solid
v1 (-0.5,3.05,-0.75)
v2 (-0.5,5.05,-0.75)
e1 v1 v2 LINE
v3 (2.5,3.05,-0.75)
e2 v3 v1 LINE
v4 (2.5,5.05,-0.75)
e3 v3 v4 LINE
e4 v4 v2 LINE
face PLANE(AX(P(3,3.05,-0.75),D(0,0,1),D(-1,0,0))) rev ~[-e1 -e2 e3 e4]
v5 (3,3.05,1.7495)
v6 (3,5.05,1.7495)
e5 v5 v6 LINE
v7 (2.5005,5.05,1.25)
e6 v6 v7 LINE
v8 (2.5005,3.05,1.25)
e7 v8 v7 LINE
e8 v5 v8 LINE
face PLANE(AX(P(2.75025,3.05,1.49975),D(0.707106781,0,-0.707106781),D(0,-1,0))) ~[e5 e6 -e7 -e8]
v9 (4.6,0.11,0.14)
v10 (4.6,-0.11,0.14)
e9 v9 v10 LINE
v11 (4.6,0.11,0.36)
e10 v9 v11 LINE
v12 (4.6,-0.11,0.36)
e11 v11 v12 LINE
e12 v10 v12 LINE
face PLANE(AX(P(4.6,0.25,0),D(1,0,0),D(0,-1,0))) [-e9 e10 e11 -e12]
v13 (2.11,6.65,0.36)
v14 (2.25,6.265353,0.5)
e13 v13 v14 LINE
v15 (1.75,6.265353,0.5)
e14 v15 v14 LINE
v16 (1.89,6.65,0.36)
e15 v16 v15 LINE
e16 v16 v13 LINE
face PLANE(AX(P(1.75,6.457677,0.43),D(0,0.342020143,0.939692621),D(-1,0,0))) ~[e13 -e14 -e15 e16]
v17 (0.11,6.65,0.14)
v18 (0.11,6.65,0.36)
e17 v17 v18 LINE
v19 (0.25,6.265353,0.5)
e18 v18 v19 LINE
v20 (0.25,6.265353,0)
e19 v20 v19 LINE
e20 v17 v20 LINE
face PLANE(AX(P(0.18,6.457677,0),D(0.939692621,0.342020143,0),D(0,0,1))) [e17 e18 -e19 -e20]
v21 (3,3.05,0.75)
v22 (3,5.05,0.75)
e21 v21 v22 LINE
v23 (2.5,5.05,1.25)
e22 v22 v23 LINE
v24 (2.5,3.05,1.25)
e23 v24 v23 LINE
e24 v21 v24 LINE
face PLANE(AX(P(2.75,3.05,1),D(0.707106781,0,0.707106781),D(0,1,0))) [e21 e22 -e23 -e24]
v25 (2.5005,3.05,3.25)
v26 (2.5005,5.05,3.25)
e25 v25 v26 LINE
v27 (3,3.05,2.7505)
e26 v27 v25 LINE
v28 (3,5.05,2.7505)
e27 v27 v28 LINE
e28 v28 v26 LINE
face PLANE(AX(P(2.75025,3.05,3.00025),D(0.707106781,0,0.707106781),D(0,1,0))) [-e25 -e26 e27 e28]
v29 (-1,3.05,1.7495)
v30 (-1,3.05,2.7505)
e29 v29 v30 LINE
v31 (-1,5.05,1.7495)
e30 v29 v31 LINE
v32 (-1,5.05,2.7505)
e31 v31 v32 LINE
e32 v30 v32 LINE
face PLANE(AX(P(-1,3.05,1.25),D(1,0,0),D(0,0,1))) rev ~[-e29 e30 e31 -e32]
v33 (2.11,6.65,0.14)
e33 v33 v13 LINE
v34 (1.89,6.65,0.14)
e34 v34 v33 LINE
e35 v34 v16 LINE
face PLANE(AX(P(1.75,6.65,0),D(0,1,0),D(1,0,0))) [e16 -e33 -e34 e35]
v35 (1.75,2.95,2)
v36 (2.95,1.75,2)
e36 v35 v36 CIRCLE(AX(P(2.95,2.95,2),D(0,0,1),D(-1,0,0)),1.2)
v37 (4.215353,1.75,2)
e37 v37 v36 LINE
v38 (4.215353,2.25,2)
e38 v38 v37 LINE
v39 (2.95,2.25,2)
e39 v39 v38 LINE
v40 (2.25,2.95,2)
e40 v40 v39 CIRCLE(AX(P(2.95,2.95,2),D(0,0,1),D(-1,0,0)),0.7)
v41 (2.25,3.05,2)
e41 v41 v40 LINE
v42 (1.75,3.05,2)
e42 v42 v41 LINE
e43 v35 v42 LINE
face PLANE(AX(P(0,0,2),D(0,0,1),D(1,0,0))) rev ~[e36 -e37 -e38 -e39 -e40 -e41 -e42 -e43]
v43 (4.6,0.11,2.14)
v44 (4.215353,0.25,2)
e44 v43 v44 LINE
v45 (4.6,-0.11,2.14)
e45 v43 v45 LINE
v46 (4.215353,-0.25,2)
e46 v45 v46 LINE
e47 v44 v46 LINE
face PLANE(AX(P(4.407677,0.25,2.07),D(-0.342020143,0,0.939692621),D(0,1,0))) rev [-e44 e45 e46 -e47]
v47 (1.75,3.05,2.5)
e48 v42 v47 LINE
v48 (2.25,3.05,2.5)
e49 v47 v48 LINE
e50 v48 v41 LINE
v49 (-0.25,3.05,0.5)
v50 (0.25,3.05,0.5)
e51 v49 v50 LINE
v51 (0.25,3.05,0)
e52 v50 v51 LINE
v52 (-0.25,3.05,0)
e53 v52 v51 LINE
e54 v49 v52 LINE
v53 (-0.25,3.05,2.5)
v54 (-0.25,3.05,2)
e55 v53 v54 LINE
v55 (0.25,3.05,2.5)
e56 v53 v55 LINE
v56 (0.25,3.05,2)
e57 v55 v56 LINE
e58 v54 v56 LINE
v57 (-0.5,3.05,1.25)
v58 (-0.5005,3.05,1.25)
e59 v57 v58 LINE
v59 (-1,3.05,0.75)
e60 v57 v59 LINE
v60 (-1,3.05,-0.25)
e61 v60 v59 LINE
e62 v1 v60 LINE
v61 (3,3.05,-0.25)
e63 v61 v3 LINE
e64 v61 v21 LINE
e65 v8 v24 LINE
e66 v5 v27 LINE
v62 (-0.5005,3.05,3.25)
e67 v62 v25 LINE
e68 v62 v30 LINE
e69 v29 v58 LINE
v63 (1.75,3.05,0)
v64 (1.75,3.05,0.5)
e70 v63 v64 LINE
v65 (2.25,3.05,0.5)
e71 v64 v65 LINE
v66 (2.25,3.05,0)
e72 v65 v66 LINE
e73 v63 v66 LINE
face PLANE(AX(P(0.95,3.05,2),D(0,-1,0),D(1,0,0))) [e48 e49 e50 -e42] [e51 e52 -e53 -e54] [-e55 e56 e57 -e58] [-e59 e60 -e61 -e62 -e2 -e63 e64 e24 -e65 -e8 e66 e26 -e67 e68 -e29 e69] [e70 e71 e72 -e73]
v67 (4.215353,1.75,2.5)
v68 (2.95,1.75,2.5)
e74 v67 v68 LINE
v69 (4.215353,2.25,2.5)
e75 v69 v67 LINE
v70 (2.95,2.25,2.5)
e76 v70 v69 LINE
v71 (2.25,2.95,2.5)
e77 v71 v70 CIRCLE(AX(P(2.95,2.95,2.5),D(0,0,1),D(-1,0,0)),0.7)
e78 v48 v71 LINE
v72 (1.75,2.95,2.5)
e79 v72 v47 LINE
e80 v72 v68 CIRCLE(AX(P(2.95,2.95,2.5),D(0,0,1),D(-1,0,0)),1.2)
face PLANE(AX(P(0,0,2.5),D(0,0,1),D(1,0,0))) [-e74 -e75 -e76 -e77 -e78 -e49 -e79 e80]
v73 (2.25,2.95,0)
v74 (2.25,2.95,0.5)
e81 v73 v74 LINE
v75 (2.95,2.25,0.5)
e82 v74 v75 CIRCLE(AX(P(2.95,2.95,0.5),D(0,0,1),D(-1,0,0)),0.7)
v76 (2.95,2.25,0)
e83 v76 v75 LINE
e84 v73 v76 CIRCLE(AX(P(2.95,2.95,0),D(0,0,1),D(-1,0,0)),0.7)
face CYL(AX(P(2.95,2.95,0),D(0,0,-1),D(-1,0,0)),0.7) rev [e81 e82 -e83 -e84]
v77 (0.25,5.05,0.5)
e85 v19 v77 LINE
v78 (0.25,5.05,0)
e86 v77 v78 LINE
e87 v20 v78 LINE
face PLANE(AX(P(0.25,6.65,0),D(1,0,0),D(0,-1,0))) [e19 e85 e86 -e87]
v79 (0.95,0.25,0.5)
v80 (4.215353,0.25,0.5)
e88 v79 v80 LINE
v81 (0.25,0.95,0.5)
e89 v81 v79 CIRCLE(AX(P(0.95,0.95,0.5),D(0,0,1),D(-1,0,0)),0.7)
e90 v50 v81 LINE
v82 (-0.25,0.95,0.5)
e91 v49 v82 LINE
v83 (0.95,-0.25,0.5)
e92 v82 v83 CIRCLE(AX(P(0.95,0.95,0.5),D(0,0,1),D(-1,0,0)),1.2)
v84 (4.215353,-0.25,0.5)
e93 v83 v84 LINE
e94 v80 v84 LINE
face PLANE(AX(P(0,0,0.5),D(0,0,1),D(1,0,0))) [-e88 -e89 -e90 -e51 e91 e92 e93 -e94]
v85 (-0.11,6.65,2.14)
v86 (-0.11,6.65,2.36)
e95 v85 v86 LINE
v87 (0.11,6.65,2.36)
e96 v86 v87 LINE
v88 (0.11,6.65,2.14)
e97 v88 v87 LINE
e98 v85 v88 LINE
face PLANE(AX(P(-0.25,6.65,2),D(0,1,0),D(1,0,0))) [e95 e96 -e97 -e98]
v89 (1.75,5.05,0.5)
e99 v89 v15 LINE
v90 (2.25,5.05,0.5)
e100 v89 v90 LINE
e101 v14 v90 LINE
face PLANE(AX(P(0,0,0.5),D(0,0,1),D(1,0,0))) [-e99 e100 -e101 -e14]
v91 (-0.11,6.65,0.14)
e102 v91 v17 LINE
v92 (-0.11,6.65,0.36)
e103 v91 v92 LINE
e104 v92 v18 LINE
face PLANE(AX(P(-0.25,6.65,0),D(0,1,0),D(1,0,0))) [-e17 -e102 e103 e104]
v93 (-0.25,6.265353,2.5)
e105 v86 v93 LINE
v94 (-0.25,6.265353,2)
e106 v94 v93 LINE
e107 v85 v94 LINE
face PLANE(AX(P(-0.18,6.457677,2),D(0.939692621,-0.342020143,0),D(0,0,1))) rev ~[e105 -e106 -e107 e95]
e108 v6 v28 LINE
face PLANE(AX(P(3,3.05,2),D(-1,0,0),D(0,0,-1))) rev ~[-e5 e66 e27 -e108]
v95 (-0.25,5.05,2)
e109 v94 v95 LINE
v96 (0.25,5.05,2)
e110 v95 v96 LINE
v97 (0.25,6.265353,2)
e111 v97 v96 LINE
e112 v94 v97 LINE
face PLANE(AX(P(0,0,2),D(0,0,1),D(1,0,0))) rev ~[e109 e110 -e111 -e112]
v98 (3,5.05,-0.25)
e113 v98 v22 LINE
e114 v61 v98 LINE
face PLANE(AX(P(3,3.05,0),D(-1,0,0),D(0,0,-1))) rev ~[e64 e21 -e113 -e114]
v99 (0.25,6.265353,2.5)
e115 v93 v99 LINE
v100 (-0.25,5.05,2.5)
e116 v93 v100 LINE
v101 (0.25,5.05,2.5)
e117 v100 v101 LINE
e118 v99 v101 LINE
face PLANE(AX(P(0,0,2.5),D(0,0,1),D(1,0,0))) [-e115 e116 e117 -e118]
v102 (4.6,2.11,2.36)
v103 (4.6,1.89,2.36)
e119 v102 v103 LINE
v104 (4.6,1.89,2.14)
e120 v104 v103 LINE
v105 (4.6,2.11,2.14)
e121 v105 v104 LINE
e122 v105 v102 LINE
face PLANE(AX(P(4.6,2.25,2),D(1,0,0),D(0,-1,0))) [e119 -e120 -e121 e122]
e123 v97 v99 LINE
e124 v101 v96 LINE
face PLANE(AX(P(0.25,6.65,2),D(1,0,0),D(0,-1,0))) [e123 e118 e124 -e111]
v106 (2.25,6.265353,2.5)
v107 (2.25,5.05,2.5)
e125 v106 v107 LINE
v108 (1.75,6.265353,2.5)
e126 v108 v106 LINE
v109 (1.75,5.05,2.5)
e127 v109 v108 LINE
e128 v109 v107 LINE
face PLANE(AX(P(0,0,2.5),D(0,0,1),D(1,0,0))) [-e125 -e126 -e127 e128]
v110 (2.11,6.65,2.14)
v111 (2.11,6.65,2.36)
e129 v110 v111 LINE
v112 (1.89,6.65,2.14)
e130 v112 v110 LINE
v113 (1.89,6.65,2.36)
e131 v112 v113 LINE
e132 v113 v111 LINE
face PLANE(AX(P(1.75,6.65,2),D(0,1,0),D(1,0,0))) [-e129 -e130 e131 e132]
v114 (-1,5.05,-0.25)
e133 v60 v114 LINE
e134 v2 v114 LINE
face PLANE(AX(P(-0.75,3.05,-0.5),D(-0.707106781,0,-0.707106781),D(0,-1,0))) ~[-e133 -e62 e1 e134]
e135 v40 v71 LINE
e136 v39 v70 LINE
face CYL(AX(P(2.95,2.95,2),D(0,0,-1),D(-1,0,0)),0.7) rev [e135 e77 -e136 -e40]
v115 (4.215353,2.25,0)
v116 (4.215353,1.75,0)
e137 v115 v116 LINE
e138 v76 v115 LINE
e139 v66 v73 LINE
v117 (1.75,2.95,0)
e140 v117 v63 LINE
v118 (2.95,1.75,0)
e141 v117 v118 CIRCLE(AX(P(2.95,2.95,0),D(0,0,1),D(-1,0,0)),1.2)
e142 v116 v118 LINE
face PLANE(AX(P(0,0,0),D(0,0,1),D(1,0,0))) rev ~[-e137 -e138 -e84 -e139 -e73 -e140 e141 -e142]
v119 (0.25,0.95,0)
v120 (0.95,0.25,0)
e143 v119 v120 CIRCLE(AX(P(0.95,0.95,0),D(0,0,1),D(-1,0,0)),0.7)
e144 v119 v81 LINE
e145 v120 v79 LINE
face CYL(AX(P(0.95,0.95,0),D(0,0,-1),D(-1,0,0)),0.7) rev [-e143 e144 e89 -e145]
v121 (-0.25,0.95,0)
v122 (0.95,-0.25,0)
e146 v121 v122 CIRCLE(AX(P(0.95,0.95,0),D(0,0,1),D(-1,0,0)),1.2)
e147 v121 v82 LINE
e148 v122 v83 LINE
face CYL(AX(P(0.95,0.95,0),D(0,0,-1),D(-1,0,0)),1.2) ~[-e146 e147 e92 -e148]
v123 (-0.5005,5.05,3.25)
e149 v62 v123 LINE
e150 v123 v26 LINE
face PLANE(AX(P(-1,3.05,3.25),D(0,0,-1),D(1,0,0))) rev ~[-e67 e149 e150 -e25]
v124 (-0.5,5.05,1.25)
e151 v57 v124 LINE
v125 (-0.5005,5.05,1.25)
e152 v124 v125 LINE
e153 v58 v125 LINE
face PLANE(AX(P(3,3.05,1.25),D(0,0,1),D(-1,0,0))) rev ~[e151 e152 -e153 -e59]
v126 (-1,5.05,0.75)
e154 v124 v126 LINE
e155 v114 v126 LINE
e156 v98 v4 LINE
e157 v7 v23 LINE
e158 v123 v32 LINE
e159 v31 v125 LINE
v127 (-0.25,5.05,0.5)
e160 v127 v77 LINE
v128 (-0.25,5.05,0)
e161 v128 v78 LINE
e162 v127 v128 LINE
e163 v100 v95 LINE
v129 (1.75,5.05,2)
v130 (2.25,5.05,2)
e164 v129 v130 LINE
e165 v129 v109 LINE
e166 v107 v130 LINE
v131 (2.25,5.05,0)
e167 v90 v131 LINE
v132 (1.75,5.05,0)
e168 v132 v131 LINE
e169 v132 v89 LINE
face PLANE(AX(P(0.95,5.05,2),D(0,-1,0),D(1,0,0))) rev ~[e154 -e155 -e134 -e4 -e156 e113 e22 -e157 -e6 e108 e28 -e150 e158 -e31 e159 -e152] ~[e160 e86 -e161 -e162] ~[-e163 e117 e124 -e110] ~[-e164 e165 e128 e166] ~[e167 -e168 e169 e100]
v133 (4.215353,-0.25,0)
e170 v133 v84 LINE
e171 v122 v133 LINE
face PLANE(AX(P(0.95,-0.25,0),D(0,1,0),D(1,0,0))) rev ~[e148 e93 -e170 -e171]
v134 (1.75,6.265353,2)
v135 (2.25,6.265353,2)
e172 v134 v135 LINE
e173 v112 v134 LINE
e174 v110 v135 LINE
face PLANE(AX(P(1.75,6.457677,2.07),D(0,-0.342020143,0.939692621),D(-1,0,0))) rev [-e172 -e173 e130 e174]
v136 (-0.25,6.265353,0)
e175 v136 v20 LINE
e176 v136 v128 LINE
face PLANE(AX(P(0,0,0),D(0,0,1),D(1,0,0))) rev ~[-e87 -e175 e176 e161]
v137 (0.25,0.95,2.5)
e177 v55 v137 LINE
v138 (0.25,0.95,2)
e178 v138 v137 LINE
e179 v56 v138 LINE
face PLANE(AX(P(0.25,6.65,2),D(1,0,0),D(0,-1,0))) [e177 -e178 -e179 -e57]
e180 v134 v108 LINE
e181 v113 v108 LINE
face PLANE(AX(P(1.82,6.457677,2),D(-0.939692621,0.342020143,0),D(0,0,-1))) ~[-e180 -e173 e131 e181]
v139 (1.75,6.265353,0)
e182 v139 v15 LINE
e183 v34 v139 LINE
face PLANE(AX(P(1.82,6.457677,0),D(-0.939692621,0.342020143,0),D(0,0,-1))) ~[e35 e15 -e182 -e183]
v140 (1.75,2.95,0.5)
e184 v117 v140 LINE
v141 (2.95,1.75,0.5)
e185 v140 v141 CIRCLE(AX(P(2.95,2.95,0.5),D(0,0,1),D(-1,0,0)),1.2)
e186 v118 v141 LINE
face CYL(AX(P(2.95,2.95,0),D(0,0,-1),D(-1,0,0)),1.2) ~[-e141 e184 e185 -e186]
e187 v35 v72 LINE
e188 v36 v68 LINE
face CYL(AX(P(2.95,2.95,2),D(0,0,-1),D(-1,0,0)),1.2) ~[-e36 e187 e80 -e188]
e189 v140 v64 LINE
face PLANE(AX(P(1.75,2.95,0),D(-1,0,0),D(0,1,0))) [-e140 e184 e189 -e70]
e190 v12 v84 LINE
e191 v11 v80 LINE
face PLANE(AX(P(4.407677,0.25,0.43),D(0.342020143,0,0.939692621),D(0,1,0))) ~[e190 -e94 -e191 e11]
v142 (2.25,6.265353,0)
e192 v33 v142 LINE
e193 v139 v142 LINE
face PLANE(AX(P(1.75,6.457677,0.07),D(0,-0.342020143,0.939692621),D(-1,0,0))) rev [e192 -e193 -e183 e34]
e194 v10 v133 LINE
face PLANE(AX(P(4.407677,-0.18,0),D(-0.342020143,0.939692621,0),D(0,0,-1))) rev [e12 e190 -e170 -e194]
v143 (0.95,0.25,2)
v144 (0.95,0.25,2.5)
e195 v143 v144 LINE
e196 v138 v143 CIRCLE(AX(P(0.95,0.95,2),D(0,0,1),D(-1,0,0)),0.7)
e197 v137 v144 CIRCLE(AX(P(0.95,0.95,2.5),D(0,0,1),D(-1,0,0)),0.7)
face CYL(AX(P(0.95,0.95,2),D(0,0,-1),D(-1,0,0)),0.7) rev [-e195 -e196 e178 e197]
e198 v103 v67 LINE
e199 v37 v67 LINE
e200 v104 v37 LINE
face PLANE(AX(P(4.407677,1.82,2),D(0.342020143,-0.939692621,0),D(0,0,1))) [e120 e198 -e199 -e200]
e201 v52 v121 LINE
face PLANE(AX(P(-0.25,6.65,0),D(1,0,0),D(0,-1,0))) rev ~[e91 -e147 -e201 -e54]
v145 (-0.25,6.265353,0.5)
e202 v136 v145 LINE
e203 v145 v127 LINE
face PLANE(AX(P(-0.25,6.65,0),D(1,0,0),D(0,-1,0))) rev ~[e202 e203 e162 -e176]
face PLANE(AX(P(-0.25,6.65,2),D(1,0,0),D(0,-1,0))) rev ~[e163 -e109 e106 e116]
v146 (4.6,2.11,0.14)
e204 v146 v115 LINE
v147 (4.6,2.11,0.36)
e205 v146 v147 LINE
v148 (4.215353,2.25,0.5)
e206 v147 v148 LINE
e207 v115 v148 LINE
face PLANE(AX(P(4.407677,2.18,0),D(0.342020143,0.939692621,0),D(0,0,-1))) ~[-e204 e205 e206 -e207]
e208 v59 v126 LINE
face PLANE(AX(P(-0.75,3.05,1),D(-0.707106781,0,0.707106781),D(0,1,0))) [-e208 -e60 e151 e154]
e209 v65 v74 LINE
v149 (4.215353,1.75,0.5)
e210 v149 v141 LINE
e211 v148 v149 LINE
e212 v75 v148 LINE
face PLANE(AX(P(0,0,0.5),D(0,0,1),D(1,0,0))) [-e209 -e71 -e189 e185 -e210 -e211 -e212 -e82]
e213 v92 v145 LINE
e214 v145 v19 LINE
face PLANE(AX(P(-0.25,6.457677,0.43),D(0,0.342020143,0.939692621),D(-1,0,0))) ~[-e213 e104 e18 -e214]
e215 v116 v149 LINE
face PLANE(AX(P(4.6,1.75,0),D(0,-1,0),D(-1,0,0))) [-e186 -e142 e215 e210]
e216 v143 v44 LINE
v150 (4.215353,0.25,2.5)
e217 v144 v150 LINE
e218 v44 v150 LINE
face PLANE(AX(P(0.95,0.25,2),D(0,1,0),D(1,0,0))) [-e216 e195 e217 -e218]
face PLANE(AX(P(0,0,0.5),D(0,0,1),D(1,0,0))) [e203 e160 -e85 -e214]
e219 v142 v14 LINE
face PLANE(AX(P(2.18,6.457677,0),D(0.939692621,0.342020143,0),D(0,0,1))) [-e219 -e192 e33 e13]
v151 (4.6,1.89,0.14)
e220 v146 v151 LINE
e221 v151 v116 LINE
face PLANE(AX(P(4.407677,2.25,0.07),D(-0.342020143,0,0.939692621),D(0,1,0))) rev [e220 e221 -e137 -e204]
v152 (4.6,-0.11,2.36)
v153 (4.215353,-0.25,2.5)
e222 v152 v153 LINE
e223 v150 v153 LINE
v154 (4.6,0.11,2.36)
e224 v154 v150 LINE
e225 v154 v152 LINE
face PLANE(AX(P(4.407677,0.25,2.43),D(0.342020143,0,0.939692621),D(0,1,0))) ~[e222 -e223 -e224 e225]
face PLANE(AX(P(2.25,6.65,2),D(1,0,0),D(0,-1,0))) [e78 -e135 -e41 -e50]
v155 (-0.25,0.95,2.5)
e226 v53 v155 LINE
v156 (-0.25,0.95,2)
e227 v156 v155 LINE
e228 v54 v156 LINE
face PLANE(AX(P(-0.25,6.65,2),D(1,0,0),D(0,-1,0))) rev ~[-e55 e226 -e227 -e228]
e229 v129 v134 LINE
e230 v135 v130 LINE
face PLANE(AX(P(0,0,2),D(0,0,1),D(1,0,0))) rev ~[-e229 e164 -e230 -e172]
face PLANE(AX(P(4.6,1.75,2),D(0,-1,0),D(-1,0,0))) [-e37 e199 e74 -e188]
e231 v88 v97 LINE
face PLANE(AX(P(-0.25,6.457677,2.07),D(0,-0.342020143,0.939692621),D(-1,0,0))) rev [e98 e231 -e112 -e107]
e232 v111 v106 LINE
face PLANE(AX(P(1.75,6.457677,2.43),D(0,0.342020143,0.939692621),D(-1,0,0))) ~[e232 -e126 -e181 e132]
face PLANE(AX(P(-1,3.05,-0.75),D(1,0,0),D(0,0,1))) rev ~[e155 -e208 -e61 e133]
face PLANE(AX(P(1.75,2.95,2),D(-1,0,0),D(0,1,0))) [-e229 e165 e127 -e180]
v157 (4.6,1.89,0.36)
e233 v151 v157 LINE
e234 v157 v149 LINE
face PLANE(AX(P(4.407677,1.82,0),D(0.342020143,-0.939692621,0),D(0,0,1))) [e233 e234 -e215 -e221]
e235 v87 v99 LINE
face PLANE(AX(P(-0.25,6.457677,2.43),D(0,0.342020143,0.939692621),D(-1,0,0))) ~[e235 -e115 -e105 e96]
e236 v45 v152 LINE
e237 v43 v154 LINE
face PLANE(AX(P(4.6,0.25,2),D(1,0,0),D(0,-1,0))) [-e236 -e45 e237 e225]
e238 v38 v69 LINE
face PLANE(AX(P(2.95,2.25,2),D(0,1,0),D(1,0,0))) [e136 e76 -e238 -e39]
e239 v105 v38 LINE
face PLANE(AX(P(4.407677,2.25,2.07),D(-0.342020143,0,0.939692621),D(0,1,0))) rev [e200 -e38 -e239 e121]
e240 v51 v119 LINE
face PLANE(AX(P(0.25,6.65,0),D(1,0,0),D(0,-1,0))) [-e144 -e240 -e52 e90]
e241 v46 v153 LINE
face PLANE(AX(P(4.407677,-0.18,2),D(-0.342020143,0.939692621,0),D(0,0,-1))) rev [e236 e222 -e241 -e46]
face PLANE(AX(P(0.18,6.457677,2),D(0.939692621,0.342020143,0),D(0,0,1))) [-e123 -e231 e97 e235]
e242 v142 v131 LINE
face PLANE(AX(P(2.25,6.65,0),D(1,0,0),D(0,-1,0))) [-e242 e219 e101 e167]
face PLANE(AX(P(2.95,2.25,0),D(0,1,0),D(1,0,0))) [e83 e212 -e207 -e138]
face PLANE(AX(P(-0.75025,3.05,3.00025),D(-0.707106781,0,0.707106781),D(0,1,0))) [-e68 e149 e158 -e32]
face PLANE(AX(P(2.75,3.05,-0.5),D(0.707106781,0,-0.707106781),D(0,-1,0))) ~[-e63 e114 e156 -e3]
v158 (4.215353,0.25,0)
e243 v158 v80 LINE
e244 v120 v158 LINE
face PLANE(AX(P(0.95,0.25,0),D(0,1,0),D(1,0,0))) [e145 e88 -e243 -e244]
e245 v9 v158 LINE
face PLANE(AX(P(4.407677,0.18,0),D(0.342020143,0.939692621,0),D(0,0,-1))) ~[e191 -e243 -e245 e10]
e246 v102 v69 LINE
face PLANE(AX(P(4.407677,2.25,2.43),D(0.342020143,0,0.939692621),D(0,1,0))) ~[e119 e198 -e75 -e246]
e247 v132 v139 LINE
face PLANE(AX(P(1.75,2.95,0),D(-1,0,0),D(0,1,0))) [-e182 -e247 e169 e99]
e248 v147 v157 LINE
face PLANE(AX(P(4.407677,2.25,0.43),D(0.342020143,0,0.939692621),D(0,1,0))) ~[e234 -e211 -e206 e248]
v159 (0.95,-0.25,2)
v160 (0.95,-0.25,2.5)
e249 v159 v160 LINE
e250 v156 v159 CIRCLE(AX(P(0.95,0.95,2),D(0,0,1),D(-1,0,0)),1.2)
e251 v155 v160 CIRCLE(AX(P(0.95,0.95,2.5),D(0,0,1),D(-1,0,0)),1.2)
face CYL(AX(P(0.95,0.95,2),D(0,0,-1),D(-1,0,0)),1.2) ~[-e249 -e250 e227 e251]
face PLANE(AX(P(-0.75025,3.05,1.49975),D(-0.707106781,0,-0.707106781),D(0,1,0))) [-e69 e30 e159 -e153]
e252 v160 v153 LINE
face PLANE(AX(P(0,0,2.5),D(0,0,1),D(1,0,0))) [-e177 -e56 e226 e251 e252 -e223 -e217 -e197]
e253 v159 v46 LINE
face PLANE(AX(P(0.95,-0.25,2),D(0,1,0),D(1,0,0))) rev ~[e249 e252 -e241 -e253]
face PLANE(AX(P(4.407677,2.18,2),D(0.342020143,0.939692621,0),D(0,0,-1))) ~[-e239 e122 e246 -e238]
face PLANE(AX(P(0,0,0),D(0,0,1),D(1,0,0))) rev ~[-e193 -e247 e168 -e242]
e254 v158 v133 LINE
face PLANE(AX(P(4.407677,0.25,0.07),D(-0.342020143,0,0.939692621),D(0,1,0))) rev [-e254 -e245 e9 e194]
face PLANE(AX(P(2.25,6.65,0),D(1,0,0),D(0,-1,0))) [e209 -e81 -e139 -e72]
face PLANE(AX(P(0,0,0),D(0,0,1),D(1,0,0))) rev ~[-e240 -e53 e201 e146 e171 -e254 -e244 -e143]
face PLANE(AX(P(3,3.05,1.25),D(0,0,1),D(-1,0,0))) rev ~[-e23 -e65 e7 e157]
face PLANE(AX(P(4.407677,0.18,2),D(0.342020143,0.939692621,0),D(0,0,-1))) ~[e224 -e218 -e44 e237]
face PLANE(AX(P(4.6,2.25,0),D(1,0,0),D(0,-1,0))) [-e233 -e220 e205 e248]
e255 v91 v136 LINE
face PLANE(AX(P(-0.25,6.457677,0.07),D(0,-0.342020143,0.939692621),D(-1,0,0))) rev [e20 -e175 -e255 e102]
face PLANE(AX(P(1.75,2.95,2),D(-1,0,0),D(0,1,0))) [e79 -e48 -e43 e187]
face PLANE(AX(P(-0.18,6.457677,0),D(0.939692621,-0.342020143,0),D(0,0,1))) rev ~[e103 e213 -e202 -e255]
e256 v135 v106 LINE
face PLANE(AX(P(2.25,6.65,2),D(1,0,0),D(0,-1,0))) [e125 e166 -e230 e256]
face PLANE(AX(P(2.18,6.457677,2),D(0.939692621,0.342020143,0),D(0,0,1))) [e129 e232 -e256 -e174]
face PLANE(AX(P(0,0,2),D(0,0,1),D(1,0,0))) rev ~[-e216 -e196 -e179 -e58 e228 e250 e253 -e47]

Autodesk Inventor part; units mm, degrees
ref_plane "YZ Plane" through (0, 0, 0) normal (1, 0, 0) x (0, 1, 0)
ref_plane "XZ Plane" through (0, 0, 0) normal (0, 1, 0) x (-1, 0, 0)
sketch "스케치1" plane through (0, 0, 0) normal (0, 0, 1) x (1, 0, 0)
  line L0 (4.6, 1.75) -> (2.95, 1.75)
  line L1 (1.75, 2.95) -> (1.75, 6.65)
  line L2 (-0.25, 6.65) -> (-0.25, 0.95)
  line L3 (0.95, -0.25) -> (4.6, -0.25)
  arc A0 (-0.25, 0.95) -> (0.95, -0.25) centre (0.95, 0.95) ccw
  line L4 (0.25, 6.65) -> (0.25, 0.95)
  arc A1 (0.25, 0.95) -> (0.95, 0.25) centre (0.95, 0.95) ccw
  line L5 (0.95, 0.25) -> (4.6, 0.25)
  arc A2 (1.75, 2.95) -> (2.95, 1.75) centre (2.95, 2.95) ccw
  line L6 (2.25, 6.65) -> (2.25, 2.95)
  arc A3 (2.25, 2.95) -> (2.95, 2.25) centre (2.95, 2.95) ccw
  line L7 (2.95, 2.25) -> (4.6, 2.25)
  line L8 (-0.25, 6.65) -> (0.25, 6.65)
  line L9 (1.75, 6.65) -> (2.25, 6.65)
  line L10 (4.6, 2.25) -> (4.6, 1.75)
  line L11 (4.6, 0.25) -> (4.6, -0.25)
  point P0 (0, 0)
  point P1 (1.75, 1.75)
  point P2 (-0.25, -0.25)
  dimension "d12" = 1.2
  dimension "d13" = 0.5
  dimension "d14" = 1.2
  dimension "d15" = 0.5
extrude "돌출1" add sketch "스케치1" along normal blind 0.5
ref_plane "작업 평면1" through (0.95, 3.05, 0) normal (0, -1, 0) x (1, 0, 0)
sketch "스케치2" plane through (0.95, 3.05, 0) normal (0, -1, 0) x (1, 0, 0)
  line L0 (-1.2, 0) -> (0, 0) projected
  line L1 (0, 0) -> (0, 0.5) projected
  line L2 (-1.2, 0.5) -> (0, 0.5) projected
  line L3 (-1.2, 0) -> (-1.2, 0.5) projected
  line L4 (0, 0.5) -> (3.65, 0.5) projected
  line L5 (0, 0) -> (0, 0.5) projected
  line L6 (0, 0) -> (3.65, 0) projected
  line L7 (0.94, 0.14) -> (1.16, 0.14) projected
  line L8 (0.94, 0.36) -> (0.94, 0.14) projected
  line L9 (1.16, 0.36) -> (0.94, 0.36) projected
  line L10 (1.16, 0.14) -> (1.16, 0.36) projected
  line L11 (-0.7, 0) -> (-1.2, 0) projected
  line L12 (-1.2, 0) -> (1.3, 0)
  line L13 (1.3, 0) -> (1.3, 0.5)
  line L14 (1.3, 0.5) -> (-1.2, 0.5)
  line L15 (-1.2, 0.5) -> (-1.2, 0)
  line L16 (-1.95, 1.25) -> (2.05, 1.25)
  line L17 (2.05, 1.25) -> (2.05, -0.75)
  line L18 (2.05, -0.75) -> (-1.95, -0.75)
  line L19 (-1.95, -0.75) -> (-1.95, 1.25)
  line L20 (-0.7, 0) -> (-0.7, 0.5) projected
  line L21 (-1.2, 0) -> (-1.2, 0.5) projected
  line L22 (-0.7, 0) -> (-1.2, 0) projected
  line L23 (-0.7, 0.5) -> (-1.2, 0.5) projected
  line L24 (3.65, 0) -> (3.65, 0.5) projected
  point P0 (-0.95, 0)
  dimension "d36" = 0.75
extrude "돌출2" add sketch "스케치2" against normal blind 2 contours L3 L2 L20 L0 | L0 L6 L17 L18 L19 L16 L4 L2 L3 | L20 L2 L1 L0 | L1 L4 L13 L6 | L13 L4 L17 L6 | L8 L9 L10 L7
chamfer "모따기7" distance 0.14 angle 70 4 edges at (0, 6.65, 0.5) (-0.25, 6.65, 0.25) (0, 6.65, 0) (0.25, 6.65, 0.25) measured on face at (0.0833, 6.65, 0.1667)
chamfer "모따기8" distance 0.14 angle 70 4 edges at (1.75, 6.65, 0.25) (2, 6.65, 0) (2.25, 6.65, 0.25) (2, 6.65, 0.5) measured on face at (2.0833, 6.65, 0.1667)
chamfer "모따기9" distance 0.14 angle 70 4 edges at (4.6, 2, 0.5) (4.6, 2.25, 0.25) (4.6, 2, 0) (4.6, 1.75, 0.25) measured on face at (4.6, 1.9167, 0.1667)
chamfer "모따기10" distance 0.14 angle 70 4 edges at (4.6, 0.25, 0.25) (4.6, 0, 0.5) (4.6, 0, 0) (4.6, -0.25, 0.25) measured on face at (4.6, -0.0833, 0.1667)
chamfer "모따기11" distance 0.5 angle 45 4 edges at (-1, 4.05, 1.25) (3, 4.05, 1.25) (3, 4.05, -0.75) (-1, 4.05, -0.75)
pattern_linear "직사각형 패턴1" count 2 spacing 2 along (0, 0, 1) of "돌출1", "돌출2", "모따기7", "모따기8", "모따기9", "모따기10", "모따기11"
ref_plane "작업 평면2" through (0.95, 3.05, 2) normal (0, -1, 0) x (1, 0, 0)
properties part number "2pin_header"
